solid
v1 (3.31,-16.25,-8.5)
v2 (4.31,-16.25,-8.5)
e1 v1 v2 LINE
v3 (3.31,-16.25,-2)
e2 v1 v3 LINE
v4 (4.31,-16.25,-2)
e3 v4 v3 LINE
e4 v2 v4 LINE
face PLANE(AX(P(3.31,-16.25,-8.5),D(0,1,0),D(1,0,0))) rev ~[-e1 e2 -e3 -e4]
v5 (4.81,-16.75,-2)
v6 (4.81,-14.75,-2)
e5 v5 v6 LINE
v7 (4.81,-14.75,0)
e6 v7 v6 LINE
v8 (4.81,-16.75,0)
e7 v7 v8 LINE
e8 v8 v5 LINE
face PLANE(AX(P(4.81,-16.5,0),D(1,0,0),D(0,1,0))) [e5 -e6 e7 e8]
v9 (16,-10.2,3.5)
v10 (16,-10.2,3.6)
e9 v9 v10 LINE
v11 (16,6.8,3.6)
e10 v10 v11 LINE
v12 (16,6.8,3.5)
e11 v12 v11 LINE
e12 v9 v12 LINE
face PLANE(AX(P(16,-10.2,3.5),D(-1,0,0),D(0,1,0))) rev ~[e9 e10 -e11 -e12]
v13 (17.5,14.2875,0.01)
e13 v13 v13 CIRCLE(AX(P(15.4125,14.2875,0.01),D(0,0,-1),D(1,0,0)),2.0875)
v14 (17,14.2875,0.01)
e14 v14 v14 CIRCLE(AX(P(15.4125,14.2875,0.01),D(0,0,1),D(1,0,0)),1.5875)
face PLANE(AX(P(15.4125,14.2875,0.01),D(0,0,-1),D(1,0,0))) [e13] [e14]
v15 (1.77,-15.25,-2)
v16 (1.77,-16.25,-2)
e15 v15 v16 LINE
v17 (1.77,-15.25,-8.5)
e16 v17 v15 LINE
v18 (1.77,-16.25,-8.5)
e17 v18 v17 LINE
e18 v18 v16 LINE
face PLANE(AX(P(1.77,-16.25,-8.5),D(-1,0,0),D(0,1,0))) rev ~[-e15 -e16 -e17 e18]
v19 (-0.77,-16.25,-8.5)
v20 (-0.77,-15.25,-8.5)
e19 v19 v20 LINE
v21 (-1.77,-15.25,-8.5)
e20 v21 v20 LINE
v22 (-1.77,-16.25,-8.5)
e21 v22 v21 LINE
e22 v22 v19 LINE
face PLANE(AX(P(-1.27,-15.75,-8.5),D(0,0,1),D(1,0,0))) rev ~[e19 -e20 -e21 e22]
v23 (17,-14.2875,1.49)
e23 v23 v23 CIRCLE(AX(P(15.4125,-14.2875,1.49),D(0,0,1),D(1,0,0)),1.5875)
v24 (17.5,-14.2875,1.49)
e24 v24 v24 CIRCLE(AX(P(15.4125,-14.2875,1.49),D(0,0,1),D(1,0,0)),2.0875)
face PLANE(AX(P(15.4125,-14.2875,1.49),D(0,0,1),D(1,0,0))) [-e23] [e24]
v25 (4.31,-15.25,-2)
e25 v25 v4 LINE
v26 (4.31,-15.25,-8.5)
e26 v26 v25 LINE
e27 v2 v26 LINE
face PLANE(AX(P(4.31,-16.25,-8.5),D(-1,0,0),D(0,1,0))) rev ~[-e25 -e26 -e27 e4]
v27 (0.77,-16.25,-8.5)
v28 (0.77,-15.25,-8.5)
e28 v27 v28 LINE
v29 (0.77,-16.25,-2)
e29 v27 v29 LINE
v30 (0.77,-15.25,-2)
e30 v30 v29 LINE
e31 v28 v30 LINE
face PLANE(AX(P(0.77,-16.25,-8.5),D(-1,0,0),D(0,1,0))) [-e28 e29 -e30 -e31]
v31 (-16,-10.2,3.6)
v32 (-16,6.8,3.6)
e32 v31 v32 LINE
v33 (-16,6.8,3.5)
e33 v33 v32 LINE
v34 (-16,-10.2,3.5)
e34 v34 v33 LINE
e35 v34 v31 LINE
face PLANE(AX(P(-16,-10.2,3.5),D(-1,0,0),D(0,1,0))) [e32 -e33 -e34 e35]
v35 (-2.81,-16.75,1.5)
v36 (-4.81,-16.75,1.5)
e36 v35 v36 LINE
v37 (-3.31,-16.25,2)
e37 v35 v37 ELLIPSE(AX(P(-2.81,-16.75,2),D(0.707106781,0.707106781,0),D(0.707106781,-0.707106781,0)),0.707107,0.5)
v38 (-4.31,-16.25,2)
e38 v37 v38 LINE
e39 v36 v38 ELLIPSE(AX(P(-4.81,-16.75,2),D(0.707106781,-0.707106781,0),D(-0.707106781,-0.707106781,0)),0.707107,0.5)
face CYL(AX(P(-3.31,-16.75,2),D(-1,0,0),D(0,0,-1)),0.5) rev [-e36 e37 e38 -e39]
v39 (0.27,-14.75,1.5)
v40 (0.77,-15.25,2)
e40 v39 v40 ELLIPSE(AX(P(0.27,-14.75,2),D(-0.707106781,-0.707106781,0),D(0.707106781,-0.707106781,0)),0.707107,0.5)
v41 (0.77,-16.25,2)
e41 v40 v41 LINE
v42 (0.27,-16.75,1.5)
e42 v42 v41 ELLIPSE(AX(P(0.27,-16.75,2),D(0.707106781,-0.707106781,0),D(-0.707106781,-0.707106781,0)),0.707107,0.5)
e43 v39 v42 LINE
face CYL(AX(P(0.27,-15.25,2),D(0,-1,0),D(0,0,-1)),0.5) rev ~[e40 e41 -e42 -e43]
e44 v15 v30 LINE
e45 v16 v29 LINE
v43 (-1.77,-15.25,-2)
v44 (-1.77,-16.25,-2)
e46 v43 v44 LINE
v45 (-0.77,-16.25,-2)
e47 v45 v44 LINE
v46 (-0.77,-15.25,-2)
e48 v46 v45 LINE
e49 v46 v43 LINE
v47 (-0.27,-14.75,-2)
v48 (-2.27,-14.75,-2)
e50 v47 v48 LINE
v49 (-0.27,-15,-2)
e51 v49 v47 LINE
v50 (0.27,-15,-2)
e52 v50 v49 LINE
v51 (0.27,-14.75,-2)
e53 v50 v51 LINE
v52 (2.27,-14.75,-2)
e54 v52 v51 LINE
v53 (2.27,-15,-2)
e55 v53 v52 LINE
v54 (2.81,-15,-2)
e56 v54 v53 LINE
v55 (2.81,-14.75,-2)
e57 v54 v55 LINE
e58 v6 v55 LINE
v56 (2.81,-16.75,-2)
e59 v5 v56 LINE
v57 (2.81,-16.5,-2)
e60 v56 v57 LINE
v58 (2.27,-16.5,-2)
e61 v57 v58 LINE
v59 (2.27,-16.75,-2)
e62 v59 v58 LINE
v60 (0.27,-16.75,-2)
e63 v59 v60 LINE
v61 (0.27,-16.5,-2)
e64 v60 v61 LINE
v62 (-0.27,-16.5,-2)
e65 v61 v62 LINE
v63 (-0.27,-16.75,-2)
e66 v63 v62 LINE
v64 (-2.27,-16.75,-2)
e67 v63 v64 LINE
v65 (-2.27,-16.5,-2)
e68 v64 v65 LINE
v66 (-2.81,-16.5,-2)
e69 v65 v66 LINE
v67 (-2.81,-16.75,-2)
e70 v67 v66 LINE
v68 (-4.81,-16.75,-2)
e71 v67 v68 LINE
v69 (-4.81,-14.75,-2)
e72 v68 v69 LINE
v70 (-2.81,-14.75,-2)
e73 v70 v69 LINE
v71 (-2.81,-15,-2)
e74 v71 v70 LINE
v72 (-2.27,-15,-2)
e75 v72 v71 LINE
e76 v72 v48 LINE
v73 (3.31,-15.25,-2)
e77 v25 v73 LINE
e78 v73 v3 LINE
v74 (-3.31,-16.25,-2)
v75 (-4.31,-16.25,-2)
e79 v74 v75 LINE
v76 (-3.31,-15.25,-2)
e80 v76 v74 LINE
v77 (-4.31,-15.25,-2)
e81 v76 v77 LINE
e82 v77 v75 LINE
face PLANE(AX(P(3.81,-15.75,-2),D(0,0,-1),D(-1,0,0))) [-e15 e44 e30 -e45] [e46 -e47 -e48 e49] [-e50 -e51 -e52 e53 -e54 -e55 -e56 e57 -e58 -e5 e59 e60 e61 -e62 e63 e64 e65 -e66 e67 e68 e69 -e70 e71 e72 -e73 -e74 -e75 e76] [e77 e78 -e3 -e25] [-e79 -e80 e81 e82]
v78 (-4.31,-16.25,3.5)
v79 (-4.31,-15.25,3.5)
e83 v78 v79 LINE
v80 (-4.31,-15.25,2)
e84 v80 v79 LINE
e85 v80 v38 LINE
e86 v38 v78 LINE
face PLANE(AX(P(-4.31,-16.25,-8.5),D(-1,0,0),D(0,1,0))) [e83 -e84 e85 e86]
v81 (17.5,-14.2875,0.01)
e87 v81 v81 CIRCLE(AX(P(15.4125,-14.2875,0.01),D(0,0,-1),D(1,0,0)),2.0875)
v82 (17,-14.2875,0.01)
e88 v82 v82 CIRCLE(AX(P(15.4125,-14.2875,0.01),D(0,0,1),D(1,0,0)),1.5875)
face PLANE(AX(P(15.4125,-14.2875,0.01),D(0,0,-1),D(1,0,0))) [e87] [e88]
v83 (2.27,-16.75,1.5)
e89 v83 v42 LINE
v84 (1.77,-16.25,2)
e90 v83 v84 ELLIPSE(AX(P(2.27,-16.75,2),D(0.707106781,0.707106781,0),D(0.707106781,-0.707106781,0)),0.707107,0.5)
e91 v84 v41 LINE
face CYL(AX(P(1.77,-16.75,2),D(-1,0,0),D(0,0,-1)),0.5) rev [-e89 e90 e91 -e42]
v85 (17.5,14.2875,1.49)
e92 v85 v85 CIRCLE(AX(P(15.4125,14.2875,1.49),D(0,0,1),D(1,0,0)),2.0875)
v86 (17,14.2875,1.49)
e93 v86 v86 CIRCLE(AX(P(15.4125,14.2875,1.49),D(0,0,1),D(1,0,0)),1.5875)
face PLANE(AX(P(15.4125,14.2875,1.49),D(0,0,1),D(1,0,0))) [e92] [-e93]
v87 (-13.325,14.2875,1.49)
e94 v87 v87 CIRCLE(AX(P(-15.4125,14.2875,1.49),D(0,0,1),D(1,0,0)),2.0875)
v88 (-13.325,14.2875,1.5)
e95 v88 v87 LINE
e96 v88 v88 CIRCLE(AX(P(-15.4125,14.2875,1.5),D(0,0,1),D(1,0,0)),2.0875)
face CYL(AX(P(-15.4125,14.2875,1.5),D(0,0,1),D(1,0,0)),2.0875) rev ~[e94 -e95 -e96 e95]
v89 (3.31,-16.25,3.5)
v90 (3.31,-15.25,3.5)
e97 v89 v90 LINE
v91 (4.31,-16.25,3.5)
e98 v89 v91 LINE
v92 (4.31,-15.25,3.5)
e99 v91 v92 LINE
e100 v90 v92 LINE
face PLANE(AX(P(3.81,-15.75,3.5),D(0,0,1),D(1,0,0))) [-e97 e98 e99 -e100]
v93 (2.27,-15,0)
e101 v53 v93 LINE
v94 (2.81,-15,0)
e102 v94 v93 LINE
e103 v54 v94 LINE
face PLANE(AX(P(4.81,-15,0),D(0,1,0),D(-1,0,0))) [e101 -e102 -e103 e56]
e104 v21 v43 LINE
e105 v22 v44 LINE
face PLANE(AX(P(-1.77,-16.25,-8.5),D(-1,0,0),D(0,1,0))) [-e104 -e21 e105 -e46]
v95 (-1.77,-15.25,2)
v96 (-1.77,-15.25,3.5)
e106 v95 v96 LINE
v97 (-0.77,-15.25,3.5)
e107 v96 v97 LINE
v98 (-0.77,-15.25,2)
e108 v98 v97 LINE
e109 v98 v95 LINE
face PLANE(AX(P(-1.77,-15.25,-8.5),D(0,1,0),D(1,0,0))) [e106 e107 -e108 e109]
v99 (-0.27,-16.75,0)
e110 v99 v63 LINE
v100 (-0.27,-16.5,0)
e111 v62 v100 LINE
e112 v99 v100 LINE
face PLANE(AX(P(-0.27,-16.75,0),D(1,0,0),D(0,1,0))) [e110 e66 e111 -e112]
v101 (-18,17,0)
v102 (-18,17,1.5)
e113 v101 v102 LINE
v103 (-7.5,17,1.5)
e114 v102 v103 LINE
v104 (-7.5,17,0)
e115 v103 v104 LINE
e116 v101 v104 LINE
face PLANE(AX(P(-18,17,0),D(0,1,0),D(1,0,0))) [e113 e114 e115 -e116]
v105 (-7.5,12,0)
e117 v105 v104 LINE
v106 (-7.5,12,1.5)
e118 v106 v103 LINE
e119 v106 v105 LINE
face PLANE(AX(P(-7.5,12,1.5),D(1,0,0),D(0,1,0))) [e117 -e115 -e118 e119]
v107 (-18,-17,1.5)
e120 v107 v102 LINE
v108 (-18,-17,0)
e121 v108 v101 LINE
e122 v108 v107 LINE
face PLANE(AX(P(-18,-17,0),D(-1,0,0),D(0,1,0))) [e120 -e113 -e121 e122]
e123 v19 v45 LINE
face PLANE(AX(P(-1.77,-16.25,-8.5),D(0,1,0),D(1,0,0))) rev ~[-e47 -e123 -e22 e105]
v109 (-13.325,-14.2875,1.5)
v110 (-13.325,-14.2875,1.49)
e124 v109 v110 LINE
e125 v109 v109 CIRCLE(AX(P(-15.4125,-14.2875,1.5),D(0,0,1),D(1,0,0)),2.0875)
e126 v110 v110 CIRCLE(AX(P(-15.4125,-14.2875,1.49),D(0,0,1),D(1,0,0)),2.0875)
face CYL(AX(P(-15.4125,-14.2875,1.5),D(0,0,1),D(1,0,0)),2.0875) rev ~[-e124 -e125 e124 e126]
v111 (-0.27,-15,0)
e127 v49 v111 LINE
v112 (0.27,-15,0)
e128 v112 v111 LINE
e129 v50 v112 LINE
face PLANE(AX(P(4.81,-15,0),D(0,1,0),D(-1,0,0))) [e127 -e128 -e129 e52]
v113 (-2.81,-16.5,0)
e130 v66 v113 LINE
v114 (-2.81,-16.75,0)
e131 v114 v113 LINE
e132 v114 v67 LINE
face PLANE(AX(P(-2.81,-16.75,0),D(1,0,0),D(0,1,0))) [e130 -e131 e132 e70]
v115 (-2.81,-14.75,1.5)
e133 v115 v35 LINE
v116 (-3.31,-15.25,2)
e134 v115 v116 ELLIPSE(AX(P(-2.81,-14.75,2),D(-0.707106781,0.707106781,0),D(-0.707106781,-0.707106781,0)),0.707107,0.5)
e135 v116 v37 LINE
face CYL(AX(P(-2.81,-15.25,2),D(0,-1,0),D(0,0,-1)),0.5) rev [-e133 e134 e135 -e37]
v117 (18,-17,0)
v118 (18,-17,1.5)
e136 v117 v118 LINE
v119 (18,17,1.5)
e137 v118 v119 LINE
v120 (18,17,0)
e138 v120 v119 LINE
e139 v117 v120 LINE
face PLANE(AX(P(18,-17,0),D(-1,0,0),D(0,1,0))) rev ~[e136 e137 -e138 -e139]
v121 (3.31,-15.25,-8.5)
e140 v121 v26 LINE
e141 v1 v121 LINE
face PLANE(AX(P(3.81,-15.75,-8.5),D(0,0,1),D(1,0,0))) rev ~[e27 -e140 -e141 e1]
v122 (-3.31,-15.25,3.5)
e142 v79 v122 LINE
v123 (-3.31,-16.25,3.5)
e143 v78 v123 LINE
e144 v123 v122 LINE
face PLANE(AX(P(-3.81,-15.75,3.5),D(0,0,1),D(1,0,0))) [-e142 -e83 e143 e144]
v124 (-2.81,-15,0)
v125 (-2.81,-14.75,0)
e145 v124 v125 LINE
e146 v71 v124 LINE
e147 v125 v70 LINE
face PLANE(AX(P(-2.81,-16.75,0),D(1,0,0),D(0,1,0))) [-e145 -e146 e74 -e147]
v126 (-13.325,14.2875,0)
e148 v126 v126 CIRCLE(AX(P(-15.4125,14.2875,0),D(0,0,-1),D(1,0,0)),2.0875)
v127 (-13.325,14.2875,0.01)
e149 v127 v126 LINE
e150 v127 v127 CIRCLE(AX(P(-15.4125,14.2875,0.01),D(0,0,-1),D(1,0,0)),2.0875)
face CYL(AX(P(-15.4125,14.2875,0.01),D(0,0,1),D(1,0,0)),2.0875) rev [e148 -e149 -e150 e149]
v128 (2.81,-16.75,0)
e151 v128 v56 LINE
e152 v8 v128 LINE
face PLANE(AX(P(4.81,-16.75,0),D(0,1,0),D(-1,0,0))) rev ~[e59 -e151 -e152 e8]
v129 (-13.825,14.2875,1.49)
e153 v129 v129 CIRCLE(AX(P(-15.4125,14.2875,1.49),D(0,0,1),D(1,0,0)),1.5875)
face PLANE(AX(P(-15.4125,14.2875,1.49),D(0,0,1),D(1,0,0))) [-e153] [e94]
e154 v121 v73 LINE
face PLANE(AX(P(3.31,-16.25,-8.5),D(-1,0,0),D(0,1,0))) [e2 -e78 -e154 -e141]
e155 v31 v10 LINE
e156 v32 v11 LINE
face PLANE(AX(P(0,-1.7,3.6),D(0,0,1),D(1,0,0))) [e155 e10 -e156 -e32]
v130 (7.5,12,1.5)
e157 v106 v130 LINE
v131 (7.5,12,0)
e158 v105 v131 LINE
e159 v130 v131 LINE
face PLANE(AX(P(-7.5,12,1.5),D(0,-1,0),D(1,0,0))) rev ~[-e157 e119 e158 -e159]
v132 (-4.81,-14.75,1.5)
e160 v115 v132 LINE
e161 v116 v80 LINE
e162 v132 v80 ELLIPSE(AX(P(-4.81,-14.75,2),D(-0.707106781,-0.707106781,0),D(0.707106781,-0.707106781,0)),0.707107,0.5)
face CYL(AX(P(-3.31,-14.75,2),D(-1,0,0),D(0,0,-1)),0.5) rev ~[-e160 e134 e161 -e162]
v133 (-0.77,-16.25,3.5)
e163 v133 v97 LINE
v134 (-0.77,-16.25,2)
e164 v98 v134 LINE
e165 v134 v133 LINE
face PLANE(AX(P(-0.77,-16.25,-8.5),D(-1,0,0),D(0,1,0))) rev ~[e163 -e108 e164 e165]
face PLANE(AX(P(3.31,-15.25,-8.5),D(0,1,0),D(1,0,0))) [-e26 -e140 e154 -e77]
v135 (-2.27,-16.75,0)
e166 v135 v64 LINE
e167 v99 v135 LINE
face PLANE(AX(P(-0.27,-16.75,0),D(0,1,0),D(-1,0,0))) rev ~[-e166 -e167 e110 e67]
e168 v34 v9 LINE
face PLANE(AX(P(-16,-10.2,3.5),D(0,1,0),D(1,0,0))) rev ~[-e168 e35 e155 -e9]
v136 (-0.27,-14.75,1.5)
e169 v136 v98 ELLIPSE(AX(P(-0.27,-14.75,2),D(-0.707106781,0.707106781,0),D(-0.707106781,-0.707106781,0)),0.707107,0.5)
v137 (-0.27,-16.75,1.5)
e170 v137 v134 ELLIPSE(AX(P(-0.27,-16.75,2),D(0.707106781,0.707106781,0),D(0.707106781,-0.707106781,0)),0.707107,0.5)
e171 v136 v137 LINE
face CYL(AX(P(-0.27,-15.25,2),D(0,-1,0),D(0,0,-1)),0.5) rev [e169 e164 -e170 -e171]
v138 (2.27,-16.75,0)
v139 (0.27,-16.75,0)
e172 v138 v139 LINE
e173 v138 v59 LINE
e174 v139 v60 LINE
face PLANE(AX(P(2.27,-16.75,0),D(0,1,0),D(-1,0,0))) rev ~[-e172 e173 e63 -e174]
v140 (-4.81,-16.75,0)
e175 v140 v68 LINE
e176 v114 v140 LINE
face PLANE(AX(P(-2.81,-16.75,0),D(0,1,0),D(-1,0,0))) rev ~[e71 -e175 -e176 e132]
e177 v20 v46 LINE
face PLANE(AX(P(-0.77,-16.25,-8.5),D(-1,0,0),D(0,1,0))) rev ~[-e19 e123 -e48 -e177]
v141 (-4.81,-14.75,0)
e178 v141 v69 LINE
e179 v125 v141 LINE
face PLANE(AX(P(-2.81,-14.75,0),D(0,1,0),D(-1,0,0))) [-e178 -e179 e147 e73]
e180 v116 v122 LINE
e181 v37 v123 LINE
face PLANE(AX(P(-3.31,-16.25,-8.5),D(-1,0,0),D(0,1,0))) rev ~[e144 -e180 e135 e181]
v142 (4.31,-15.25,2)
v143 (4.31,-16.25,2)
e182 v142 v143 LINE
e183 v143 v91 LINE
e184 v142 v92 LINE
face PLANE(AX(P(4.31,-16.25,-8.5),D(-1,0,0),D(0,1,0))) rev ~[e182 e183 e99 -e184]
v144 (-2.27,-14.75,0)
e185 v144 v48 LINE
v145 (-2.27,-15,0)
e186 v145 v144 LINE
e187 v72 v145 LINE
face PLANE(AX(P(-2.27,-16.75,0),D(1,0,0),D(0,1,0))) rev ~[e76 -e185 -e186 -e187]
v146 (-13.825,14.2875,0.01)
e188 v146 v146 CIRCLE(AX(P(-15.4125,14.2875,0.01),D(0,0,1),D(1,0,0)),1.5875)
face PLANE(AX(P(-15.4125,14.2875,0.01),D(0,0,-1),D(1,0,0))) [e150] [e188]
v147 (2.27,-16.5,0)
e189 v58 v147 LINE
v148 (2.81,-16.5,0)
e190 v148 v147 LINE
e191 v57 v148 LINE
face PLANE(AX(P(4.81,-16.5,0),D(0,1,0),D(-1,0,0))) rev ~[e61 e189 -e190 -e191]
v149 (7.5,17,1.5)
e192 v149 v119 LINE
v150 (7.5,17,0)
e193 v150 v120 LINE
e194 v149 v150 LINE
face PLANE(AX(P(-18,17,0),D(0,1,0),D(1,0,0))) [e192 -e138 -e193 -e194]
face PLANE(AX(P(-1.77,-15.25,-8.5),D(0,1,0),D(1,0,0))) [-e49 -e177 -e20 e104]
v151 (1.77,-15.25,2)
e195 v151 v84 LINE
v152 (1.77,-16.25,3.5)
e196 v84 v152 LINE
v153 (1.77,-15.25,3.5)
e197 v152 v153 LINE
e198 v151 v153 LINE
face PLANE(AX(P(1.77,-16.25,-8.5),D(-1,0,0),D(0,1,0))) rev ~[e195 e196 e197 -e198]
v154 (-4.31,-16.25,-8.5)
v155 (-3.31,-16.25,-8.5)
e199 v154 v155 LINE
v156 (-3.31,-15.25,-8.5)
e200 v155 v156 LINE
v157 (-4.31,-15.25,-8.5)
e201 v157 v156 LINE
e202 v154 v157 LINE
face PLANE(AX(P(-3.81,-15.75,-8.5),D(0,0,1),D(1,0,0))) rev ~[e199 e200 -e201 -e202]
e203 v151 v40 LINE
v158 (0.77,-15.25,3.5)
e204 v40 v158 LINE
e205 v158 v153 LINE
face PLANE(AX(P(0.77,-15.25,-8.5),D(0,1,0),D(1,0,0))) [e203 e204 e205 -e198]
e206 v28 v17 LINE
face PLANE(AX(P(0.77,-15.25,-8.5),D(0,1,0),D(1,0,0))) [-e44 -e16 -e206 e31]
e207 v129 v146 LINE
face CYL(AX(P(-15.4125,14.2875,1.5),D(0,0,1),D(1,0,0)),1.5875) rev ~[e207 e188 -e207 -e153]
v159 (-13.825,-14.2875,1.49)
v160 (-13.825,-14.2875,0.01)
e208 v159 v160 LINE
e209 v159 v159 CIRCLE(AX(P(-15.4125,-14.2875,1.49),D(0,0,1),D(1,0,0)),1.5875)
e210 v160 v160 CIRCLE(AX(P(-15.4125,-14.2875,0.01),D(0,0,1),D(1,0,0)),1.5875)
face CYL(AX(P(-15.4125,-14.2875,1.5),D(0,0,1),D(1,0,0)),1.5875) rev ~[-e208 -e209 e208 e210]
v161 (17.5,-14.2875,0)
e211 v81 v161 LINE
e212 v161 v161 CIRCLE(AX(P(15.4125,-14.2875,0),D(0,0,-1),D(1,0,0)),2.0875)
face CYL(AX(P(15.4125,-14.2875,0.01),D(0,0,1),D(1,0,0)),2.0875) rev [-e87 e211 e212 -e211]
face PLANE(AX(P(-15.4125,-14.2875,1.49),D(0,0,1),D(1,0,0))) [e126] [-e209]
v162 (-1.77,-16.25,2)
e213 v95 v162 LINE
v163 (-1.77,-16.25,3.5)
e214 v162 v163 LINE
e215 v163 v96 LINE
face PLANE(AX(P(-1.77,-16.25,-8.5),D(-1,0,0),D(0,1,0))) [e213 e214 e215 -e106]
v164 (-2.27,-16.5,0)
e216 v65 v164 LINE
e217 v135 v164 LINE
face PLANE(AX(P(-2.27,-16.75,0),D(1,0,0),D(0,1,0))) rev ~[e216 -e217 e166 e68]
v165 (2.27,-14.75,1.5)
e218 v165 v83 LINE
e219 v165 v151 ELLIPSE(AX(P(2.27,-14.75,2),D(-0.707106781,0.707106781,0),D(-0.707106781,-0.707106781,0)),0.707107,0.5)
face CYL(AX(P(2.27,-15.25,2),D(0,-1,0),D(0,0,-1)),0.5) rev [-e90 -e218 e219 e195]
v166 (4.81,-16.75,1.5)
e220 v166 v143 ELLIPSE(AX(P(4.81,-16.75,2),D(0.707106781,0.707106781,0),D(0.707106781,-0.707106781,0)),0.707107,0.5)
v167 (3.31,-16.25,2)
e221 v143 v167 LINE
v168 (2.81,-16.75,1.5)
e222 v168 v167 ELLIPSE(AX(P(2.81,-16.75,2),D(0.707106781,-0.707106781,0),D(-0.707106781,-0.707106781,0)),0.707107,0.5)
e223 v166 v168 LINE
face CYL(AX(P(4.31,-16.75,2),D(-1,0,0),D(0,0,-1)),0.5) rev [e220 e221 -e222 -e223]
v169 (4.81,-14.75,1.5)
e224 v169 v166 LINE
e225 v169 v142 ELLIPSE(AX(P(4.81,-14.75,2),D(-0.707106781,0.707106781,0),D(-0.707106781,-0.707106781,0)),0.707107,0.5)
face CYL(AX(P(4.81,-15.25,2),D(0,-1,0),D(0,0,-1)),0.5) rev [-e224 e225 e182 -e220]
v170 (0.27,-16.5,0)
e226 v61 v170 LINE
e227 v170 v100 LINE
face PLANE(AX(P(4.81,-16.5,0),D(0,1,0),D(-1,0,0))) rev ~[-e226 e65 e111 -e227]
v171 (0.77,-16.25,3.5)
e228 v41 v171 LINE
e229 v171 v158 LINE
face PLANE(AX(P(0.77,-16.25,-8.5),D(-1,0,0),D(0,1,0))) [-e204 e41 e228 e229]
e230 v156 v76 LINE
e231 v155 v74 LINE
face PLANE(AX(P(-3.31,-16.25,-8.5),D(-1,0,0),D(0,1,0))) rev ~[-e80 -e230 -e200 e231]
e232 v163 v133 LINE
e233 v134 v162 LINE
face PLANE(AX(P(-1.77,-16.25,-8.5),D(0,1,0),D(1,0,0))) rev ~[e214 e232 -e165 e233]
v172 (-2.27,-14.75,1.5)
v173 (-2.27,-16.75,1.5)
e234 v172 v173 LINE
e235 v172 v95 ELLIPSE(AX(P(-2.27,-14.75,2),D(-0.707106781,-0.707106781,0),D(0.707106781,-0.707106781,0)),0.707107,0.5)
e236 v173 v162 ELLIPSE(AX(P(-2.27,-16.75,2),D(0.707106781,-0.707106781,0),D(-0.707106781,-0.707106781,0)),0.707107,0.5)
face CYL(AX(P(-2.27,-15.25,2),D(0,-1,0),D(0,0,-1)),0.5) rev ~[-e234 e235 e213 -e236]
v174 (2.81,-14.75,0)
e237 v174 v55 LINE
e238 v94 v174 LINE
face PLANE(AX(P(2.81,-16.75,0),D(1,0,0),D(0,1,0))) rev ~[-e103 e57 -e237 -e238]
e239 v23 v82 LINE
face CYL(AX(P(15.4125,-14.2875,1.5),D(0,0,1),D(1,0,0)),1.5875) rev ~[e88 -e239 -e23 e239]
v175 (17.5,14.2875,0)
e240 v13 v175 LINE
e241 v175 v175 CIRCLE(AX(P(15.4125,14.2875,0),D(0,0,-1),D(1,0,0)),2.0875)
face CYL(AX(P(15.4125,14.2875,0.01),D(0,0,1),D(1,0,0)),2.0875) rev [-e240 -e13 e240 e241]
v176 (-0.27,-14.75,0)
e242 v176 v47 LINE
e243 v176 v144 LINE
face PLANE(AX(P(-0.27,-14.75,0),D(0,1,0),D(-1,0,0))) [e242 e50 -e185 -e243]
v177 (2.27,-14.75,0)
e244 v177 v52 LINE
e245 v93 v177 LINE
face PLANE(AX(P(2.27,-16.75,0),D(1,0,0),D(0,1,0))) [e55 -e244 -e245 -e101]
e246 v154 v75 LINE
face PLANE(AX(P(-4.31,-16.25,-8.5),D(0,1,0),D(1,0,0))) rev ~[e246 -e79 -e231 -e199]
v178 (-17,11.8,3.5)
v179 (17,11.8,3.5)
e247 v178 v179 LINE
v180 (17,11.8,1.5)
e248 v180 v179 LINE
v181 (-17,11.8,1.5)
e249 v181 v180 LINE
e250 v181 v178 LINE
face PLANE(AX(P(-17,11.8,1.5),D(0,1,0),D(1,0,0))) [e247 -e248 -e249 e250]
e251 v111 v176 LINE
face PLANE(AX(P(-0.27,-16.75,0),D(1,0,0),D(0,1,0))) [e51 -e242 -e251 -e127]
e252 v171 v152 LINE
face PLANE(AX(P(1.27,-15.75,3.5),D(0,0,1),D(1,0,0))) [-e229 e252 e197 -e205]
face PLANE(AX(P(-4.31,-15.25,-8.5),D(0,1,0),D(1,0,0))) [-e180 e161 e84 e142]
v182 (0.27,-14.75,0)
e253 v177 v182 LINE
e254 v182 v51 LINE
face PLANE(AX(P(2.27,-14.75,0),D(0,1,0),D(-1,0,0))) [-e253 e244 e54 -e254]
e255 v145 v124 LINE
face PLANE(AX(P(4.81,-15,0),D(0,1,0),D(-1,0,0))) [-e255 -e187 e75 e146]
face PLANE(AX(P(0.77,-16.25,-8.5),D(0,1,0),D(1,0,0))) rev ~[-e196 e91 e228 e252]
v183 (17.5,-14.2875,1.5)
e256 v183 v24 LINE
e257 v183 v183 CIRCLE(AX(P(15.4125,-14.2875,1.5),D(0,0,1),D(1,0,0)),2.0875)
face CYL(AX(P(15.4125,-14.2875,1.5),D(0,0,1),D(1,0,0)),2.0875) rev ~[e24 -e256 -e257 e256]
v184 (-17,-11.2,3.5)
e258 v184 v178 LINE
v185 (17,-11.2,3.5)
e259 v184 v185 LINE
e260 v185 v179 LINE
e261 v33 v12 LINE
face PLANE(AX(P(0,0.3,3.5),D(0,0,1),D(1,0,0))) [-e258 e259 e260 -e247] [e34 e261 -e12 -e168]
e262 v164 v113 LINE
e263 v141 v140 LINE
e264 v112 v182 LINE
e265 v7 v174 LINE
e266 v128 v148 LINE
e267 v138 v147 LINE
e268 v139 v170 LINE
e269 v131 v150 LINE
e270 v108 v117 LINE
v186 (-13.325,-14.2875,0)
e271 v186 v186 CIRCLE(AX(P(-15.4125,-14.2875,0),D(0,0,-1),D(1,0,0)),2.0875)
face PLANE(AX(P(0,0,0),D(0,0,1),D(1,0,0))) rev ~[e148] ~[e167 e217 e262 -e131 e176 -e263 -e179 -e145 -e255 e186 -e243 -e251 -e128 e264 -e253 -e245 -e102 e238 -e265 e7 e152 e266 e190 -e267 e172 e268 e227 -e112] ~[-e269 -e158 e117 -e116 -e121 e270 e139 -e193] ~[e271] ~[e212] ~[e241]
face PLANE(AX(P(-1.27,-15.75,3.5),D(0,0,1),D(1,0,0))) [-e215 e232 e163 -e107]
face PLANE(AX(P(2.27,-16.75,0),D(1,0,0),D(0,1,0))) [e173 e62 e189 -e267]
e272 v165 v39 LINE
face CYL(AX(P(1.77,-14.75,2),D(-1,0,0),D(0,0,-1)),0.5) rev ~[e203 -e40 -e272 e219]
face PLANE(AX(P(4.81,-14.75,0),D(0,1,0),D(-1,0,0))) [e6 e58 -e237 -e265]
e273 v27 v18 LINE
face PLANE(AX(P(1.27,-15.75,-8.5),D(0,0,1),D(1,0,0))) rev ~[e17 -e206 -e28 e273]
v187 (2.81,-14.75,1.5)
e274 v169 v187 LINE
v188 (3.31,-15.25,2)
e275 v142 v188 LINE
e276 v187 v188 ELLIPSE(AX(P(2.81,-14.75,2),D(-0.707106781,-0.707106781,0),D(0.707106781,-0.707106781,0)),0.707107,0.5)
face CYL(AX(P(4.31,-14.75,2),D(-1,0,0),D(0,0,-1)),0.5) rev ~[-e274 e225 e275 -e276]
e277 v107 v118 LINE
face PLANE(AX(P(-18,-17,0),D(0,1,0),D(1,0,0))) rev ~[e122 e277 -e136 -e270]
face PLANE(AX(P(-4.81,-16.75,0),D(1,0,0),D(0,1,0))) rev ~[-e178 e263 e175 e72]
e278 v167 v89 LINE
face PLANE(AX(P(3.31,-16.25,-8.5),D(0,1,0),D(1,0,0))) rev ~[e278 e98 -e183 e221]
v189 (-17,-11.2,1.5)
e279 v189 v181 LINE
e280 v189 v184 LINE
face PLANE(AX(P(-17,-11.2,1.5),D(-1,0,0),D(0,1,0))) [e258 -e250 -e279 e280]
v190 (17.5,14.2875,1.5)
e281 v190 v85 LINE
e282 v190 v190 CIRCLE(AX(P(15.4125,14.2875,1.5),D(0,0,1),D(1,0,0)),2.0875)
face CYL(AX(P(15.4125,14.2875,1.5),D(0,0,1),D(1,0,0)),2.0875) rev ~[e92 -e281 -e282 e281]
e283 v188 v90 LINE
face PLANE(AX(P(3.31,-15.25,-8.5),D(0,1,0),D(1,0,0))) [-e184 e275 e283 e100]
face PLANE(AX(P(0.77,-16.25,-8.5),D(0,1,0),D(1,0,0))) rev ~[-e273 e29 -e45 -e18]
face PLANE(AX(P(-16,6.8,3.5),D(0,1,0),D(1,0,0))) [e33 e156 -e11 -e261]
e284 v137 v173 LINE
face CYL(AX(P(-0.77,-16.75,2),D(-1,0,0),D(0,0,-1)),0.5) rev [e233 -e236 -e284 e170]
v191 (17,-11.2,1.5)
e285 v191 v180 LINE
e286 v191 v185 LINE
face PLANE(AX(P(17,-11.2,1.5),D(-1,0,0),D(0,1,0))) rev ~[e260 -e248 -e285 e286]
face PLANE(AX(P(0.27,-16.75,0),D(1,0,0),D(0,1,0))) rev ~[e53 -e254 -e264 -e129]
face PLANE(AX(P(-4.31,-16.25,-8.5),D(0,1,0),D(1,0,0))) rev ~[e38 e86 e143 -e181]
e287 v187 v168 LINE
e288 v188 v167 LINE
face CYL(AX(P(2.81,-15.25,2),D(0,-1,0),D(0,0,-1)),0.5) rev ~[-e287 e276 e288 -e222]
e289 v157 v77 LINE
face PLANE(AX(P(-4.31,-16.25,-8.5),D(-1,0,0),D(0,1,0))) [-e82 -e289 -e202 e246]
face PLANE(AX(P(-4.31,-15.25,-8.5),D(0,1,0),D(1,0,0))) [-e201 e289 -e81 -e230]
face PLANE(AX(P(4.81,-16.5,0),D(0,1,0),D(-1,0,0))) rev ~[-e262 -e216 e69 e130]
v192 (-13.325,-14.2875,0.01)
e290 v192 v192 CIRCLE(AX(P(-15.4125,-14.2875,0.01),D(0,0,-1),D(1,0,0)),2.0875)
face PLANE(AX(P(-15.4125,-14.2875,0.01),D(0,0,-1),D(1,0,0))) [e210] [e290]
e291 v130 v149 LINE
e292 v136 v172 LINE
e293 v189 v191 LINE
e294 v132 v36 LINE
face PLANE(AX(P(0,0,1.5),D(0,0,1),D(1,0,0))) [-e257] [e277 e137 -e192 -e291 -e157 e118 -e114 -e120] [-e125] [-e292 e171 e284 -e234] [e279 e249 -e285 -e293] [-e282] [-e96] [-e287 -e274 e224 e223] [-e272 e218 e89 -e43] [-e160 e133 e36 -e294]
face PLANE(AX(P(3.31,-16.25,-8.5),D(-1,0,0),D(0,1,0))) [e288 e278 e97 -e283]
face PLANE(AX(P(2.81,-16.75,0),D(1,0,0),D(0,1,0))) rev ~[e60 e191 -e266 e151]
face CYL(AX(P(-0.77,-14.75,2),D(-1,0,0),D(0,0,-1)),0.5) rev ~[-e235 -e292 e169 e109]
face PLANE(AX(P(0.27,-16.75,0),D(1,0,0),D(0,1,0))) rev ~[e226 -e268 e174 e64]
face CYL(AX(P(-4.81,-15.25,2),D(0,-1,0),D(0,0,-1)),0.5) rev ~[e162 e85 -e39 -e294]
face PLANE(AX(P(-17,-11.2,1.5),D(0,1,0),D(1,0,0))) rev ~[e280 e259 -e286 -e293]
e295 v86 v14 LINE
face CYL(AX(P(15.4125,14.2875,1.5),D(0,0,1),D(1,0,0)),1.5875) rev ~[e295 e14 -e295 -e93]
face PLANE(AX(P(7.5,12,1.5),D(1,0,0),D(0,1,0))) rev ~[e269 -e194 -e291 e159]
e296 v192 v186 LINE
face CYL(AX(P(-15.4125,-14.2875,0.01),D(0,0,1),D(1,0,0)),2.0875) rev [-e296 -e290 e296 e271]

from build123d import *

# Parameters (mm, degrees)
CROQUIS1_W                   = 36
CROQUIS1_H                   = 34
SALIENTE_EXTRUIR1_DEPTH      = 1.5
CROQUIS2_W                   = 15
CROQUIS2_H                   = 5
CORTAR_EXTRUIR1_DEPTH        = 1.5
CROQUIS3_R                   = 1.5875
CORTAR_EXTRUIR2_DEPTH        = 2.54
CROQUIS4_W                   = 34
CROQUIS4_H                   = 23
SALIENTE_EXTRUIR2_DEPTH      = 2
CROQUIS5_W                   = 32
CROQUIS5_H                   = 17
SALIENTE_EXTRUIR5_DEPTH      = 0.1
SALIENTE_EXTRUIR7_DEPTH      = 2
SALIENTE_EXTRUIR7_DEPTH_BACK = 10
CROQUIS15_W                  = 1
CROQUIS15_H                  = 1
CROQUIS16_W                  = 2
CROQUIS16_H                  = 2
SALIENTE_EXTRUIR8_DEPTH      = 2
CROQUIS17_W                  = 9.62
CROQUIS17_H                  = 1.5
SALIENTE_EXTRUIR9_DEPTH      = 2
REDONDEO1_R                  = 0.5
CROQUIS41_R                  = 2.0875
CORTAR_EXTRUIR4_DEPTH        = 0.01
CORTAR_EXTRUIR5_START        = -0.01
CROQUIS42_R                  = 2.0875
CORTAR_EXTRUIR5_DEPTH        = 0.01


with BuildPart() as part:
    # Croquis1 → Saliente-Extruir1 (new body)
    with BuildSketch(Plane.XY):
        Rectangle(CROQUIS1_W, CROQUIS1_H)
    extrude(amount=SALIENTE_EXTRUIR1_DEPTH)

    # Croquis2 → Cortar-Extruir1 (cut)
    with BuildSketch(Plane.XY.offset(1.5)):
        with Locations((0, 14.5)):
            Rectangle(CROQUIS2_W, CROQUIS2_H)
    extrude(amount=-CORTAR_EXTRUIR1_DEPTH, mode=Mode.SUBTRACT)

    # Croquis3 → Cortar-Extruir2 (cut)
    with BuildSketch(Plane.XY.offset(1.5)):
        with Locations((-15.4125, 14.2875)):
            Circle(CROQUIS3_R)
        with Locations((15.4125, 14.2875)):
            Circle(CROQUIS3_R)
        with Locations((15.4125, -14.2875)):
            Circle(CROQUIS3_R)
        with Locations((-15.4125, -14.2875)):
            Circle(CROQUIS3_R)
    extrude(amount=-CORTAR_EXTRUIR2_DEPTH, mode=Mode.SUBTRACT)

    # Croquis4 → Saliente-Extruir2 (add)
    with BuildSketch(Plane.XY.offset(1.5)):
        with Locations((0, 0.3)):
            Rectangle(CROQUIS4_W, CROQUIS4_H)
    extrude(amount=SALIENTE_EXTRUIR2_DEPTH)

    # Croquis5 → Saliente-Extruir5 (add)
    with BuildSketch(Plane.XY.offset(3.5)):
        with Locations((0, -1.7)):
            Rectangle(CROQUIS5_W, CROQUIS5_H)
    extrude(amount=SALIENTE_EXTRUIR5_DEPTH)

    # Croquis15 → Saliente-Extruir7 (add, two sides: drawn at the far end of the back side and taken through both)
    with BuildSketch(Plane.XY.offset(1.5).offset(-SALIENTE_EXTRUIR7_DEPTH_BACK)):
        with Locations((1.27, -15.75)):
            Rectangle(CROQUIS15_W, CROQUIS15_H)
        with Locations((3.81, -15.75)):
            Rectangle(CROQUIS15_W, CROQUIS15_H)
        with Locations((-1.27, -15.75)):
            Rectangle(CROQUIS15_W, CROQUIS15_H)
        with Locations((-3.81, -15.75)):
            Rectangle(CROQUIS15_W, CROQUIS15_H)
    extrude(amount=SALIENTE_EXTRUIR7_DEPTH + SALIENTE_EXTRUIR7_DEPTH_BACK)

    # Croquis16 → Saliente-Extruir8 (add)
    with BuildSketch(Plane(origin=(0, 0, 0), x_dir=(-1, 0, 0), z_dir=(0, 0, -1))):
        with Locations((3.81, -15.75)):
            Rectangle(CROQUIS16_W, CROQUIS16_H)
        with Locations((1.27, -15.75)):
            Rectangle(CROQUIS16_W, CROQUIS16_H)
        with Locations((-1.27, -15.75)):
            Rectangle(CROQUIS16_W, CROQUIS16_H)
        with Locations((-3.81, -15.75)):
            Rectangle(CROQUIS16_W, CROQUIS16_H)
    extrude(amount=SALIENTE_EXTRUIR8_DEPTH)

    # Croquis17 → Saliente-Extruir9 (add)
    with BuildSketch(Plane(origin=(0, 0, 0), x_dir=(-1, 0, 0), z_dir=(0, 0, -1))):
        with Locations((0, -15.75)):
            Rectangle(CROQUIS17_W, CROQUIS17_H)
    extrude(amount=SALIENTE_EXTRUIR9_DEPTH)

    # Redondeo1
    redondeo1_edges = [part.edges().sort_by_distance(p)[0] for p in [
        (0.77, -15.75, 1.5),
        (1.27, -15.25, 1.5),
        (1.77, -15.75, 1.5),
        (1.27, -16.25, 1.5),
        (-1.77, -15.75, 1.5),
        (-1.27, -15.25, 1.5),
        (-0.77, -15.75, 1.5),
        (-1.27, -16.25, 1.5),
        (-4.31, -15.75, 1.5),
        (-3.81, -15.25, 1.5),
        (-3.31, -15.75, 1.5),
        (-3.81, -16.25, 1.5),
        (3.31, -15.75, 1.5),
        (3.81, -15.25, 1.5),
        (4.31, -15.75, 1.5),
        (3.81, -16.25, 1.5),
    ]]
    fillet(redondeo1_edges, radius=REDONDEO1_R)

    # Croquis41 → Cortar-Extruir4 (cut)
    with BuildSketch(Plane.XY.offset(1.5)):
        with Locations((-15.4125, 14.2875)):
            Circle(CROQUIS41_R)
        with Locations((15.4125, 14.2875)):
            Circle(CROQUIS41_R)
        with Locations((15.4125, -14.2875)):
            Circle(CROQUIS41_R)
        with Locations((-15.4125, -14.2875)):
            Circle(CROQUIS41_R)
    extrude(amount=-CORTAR_EXTRUIR4_DEPTH, mode=Mode.SUBTRACT)

    # Croquis42 → Cortar-Extruir5 (cut)
    with BuildSketch(Plane(origin=(0, 0, 0), x_dir=(-1, 0, 0), z_dir=(0, 0, -1)).offset(CORTAR_EXTRUIR5_START)):
        with Locations(Location((-15.4125, 14.2875, 0), (0, 0, 180))):
            Circle(CROQUIS42_R)
        with Locations(Location((15.4125, 14.2875, 0), (0, 0, 180))):
            Circle(CROQUIS42_R)
        with Locations(Location((15.4125, -14.2875, 0), (0, 0, 180))):
            Circle(CROQUIS42_R)
        with Locations(Location((-15.4125, -14.2875, 0), (0, 0, 180))):
            Circle(CROQUIS42_R)
    extrude(amount=CORTAR_EXTRUIR5_DEPTH, mode=Mode.SUBTRACT)


solid = part.part
